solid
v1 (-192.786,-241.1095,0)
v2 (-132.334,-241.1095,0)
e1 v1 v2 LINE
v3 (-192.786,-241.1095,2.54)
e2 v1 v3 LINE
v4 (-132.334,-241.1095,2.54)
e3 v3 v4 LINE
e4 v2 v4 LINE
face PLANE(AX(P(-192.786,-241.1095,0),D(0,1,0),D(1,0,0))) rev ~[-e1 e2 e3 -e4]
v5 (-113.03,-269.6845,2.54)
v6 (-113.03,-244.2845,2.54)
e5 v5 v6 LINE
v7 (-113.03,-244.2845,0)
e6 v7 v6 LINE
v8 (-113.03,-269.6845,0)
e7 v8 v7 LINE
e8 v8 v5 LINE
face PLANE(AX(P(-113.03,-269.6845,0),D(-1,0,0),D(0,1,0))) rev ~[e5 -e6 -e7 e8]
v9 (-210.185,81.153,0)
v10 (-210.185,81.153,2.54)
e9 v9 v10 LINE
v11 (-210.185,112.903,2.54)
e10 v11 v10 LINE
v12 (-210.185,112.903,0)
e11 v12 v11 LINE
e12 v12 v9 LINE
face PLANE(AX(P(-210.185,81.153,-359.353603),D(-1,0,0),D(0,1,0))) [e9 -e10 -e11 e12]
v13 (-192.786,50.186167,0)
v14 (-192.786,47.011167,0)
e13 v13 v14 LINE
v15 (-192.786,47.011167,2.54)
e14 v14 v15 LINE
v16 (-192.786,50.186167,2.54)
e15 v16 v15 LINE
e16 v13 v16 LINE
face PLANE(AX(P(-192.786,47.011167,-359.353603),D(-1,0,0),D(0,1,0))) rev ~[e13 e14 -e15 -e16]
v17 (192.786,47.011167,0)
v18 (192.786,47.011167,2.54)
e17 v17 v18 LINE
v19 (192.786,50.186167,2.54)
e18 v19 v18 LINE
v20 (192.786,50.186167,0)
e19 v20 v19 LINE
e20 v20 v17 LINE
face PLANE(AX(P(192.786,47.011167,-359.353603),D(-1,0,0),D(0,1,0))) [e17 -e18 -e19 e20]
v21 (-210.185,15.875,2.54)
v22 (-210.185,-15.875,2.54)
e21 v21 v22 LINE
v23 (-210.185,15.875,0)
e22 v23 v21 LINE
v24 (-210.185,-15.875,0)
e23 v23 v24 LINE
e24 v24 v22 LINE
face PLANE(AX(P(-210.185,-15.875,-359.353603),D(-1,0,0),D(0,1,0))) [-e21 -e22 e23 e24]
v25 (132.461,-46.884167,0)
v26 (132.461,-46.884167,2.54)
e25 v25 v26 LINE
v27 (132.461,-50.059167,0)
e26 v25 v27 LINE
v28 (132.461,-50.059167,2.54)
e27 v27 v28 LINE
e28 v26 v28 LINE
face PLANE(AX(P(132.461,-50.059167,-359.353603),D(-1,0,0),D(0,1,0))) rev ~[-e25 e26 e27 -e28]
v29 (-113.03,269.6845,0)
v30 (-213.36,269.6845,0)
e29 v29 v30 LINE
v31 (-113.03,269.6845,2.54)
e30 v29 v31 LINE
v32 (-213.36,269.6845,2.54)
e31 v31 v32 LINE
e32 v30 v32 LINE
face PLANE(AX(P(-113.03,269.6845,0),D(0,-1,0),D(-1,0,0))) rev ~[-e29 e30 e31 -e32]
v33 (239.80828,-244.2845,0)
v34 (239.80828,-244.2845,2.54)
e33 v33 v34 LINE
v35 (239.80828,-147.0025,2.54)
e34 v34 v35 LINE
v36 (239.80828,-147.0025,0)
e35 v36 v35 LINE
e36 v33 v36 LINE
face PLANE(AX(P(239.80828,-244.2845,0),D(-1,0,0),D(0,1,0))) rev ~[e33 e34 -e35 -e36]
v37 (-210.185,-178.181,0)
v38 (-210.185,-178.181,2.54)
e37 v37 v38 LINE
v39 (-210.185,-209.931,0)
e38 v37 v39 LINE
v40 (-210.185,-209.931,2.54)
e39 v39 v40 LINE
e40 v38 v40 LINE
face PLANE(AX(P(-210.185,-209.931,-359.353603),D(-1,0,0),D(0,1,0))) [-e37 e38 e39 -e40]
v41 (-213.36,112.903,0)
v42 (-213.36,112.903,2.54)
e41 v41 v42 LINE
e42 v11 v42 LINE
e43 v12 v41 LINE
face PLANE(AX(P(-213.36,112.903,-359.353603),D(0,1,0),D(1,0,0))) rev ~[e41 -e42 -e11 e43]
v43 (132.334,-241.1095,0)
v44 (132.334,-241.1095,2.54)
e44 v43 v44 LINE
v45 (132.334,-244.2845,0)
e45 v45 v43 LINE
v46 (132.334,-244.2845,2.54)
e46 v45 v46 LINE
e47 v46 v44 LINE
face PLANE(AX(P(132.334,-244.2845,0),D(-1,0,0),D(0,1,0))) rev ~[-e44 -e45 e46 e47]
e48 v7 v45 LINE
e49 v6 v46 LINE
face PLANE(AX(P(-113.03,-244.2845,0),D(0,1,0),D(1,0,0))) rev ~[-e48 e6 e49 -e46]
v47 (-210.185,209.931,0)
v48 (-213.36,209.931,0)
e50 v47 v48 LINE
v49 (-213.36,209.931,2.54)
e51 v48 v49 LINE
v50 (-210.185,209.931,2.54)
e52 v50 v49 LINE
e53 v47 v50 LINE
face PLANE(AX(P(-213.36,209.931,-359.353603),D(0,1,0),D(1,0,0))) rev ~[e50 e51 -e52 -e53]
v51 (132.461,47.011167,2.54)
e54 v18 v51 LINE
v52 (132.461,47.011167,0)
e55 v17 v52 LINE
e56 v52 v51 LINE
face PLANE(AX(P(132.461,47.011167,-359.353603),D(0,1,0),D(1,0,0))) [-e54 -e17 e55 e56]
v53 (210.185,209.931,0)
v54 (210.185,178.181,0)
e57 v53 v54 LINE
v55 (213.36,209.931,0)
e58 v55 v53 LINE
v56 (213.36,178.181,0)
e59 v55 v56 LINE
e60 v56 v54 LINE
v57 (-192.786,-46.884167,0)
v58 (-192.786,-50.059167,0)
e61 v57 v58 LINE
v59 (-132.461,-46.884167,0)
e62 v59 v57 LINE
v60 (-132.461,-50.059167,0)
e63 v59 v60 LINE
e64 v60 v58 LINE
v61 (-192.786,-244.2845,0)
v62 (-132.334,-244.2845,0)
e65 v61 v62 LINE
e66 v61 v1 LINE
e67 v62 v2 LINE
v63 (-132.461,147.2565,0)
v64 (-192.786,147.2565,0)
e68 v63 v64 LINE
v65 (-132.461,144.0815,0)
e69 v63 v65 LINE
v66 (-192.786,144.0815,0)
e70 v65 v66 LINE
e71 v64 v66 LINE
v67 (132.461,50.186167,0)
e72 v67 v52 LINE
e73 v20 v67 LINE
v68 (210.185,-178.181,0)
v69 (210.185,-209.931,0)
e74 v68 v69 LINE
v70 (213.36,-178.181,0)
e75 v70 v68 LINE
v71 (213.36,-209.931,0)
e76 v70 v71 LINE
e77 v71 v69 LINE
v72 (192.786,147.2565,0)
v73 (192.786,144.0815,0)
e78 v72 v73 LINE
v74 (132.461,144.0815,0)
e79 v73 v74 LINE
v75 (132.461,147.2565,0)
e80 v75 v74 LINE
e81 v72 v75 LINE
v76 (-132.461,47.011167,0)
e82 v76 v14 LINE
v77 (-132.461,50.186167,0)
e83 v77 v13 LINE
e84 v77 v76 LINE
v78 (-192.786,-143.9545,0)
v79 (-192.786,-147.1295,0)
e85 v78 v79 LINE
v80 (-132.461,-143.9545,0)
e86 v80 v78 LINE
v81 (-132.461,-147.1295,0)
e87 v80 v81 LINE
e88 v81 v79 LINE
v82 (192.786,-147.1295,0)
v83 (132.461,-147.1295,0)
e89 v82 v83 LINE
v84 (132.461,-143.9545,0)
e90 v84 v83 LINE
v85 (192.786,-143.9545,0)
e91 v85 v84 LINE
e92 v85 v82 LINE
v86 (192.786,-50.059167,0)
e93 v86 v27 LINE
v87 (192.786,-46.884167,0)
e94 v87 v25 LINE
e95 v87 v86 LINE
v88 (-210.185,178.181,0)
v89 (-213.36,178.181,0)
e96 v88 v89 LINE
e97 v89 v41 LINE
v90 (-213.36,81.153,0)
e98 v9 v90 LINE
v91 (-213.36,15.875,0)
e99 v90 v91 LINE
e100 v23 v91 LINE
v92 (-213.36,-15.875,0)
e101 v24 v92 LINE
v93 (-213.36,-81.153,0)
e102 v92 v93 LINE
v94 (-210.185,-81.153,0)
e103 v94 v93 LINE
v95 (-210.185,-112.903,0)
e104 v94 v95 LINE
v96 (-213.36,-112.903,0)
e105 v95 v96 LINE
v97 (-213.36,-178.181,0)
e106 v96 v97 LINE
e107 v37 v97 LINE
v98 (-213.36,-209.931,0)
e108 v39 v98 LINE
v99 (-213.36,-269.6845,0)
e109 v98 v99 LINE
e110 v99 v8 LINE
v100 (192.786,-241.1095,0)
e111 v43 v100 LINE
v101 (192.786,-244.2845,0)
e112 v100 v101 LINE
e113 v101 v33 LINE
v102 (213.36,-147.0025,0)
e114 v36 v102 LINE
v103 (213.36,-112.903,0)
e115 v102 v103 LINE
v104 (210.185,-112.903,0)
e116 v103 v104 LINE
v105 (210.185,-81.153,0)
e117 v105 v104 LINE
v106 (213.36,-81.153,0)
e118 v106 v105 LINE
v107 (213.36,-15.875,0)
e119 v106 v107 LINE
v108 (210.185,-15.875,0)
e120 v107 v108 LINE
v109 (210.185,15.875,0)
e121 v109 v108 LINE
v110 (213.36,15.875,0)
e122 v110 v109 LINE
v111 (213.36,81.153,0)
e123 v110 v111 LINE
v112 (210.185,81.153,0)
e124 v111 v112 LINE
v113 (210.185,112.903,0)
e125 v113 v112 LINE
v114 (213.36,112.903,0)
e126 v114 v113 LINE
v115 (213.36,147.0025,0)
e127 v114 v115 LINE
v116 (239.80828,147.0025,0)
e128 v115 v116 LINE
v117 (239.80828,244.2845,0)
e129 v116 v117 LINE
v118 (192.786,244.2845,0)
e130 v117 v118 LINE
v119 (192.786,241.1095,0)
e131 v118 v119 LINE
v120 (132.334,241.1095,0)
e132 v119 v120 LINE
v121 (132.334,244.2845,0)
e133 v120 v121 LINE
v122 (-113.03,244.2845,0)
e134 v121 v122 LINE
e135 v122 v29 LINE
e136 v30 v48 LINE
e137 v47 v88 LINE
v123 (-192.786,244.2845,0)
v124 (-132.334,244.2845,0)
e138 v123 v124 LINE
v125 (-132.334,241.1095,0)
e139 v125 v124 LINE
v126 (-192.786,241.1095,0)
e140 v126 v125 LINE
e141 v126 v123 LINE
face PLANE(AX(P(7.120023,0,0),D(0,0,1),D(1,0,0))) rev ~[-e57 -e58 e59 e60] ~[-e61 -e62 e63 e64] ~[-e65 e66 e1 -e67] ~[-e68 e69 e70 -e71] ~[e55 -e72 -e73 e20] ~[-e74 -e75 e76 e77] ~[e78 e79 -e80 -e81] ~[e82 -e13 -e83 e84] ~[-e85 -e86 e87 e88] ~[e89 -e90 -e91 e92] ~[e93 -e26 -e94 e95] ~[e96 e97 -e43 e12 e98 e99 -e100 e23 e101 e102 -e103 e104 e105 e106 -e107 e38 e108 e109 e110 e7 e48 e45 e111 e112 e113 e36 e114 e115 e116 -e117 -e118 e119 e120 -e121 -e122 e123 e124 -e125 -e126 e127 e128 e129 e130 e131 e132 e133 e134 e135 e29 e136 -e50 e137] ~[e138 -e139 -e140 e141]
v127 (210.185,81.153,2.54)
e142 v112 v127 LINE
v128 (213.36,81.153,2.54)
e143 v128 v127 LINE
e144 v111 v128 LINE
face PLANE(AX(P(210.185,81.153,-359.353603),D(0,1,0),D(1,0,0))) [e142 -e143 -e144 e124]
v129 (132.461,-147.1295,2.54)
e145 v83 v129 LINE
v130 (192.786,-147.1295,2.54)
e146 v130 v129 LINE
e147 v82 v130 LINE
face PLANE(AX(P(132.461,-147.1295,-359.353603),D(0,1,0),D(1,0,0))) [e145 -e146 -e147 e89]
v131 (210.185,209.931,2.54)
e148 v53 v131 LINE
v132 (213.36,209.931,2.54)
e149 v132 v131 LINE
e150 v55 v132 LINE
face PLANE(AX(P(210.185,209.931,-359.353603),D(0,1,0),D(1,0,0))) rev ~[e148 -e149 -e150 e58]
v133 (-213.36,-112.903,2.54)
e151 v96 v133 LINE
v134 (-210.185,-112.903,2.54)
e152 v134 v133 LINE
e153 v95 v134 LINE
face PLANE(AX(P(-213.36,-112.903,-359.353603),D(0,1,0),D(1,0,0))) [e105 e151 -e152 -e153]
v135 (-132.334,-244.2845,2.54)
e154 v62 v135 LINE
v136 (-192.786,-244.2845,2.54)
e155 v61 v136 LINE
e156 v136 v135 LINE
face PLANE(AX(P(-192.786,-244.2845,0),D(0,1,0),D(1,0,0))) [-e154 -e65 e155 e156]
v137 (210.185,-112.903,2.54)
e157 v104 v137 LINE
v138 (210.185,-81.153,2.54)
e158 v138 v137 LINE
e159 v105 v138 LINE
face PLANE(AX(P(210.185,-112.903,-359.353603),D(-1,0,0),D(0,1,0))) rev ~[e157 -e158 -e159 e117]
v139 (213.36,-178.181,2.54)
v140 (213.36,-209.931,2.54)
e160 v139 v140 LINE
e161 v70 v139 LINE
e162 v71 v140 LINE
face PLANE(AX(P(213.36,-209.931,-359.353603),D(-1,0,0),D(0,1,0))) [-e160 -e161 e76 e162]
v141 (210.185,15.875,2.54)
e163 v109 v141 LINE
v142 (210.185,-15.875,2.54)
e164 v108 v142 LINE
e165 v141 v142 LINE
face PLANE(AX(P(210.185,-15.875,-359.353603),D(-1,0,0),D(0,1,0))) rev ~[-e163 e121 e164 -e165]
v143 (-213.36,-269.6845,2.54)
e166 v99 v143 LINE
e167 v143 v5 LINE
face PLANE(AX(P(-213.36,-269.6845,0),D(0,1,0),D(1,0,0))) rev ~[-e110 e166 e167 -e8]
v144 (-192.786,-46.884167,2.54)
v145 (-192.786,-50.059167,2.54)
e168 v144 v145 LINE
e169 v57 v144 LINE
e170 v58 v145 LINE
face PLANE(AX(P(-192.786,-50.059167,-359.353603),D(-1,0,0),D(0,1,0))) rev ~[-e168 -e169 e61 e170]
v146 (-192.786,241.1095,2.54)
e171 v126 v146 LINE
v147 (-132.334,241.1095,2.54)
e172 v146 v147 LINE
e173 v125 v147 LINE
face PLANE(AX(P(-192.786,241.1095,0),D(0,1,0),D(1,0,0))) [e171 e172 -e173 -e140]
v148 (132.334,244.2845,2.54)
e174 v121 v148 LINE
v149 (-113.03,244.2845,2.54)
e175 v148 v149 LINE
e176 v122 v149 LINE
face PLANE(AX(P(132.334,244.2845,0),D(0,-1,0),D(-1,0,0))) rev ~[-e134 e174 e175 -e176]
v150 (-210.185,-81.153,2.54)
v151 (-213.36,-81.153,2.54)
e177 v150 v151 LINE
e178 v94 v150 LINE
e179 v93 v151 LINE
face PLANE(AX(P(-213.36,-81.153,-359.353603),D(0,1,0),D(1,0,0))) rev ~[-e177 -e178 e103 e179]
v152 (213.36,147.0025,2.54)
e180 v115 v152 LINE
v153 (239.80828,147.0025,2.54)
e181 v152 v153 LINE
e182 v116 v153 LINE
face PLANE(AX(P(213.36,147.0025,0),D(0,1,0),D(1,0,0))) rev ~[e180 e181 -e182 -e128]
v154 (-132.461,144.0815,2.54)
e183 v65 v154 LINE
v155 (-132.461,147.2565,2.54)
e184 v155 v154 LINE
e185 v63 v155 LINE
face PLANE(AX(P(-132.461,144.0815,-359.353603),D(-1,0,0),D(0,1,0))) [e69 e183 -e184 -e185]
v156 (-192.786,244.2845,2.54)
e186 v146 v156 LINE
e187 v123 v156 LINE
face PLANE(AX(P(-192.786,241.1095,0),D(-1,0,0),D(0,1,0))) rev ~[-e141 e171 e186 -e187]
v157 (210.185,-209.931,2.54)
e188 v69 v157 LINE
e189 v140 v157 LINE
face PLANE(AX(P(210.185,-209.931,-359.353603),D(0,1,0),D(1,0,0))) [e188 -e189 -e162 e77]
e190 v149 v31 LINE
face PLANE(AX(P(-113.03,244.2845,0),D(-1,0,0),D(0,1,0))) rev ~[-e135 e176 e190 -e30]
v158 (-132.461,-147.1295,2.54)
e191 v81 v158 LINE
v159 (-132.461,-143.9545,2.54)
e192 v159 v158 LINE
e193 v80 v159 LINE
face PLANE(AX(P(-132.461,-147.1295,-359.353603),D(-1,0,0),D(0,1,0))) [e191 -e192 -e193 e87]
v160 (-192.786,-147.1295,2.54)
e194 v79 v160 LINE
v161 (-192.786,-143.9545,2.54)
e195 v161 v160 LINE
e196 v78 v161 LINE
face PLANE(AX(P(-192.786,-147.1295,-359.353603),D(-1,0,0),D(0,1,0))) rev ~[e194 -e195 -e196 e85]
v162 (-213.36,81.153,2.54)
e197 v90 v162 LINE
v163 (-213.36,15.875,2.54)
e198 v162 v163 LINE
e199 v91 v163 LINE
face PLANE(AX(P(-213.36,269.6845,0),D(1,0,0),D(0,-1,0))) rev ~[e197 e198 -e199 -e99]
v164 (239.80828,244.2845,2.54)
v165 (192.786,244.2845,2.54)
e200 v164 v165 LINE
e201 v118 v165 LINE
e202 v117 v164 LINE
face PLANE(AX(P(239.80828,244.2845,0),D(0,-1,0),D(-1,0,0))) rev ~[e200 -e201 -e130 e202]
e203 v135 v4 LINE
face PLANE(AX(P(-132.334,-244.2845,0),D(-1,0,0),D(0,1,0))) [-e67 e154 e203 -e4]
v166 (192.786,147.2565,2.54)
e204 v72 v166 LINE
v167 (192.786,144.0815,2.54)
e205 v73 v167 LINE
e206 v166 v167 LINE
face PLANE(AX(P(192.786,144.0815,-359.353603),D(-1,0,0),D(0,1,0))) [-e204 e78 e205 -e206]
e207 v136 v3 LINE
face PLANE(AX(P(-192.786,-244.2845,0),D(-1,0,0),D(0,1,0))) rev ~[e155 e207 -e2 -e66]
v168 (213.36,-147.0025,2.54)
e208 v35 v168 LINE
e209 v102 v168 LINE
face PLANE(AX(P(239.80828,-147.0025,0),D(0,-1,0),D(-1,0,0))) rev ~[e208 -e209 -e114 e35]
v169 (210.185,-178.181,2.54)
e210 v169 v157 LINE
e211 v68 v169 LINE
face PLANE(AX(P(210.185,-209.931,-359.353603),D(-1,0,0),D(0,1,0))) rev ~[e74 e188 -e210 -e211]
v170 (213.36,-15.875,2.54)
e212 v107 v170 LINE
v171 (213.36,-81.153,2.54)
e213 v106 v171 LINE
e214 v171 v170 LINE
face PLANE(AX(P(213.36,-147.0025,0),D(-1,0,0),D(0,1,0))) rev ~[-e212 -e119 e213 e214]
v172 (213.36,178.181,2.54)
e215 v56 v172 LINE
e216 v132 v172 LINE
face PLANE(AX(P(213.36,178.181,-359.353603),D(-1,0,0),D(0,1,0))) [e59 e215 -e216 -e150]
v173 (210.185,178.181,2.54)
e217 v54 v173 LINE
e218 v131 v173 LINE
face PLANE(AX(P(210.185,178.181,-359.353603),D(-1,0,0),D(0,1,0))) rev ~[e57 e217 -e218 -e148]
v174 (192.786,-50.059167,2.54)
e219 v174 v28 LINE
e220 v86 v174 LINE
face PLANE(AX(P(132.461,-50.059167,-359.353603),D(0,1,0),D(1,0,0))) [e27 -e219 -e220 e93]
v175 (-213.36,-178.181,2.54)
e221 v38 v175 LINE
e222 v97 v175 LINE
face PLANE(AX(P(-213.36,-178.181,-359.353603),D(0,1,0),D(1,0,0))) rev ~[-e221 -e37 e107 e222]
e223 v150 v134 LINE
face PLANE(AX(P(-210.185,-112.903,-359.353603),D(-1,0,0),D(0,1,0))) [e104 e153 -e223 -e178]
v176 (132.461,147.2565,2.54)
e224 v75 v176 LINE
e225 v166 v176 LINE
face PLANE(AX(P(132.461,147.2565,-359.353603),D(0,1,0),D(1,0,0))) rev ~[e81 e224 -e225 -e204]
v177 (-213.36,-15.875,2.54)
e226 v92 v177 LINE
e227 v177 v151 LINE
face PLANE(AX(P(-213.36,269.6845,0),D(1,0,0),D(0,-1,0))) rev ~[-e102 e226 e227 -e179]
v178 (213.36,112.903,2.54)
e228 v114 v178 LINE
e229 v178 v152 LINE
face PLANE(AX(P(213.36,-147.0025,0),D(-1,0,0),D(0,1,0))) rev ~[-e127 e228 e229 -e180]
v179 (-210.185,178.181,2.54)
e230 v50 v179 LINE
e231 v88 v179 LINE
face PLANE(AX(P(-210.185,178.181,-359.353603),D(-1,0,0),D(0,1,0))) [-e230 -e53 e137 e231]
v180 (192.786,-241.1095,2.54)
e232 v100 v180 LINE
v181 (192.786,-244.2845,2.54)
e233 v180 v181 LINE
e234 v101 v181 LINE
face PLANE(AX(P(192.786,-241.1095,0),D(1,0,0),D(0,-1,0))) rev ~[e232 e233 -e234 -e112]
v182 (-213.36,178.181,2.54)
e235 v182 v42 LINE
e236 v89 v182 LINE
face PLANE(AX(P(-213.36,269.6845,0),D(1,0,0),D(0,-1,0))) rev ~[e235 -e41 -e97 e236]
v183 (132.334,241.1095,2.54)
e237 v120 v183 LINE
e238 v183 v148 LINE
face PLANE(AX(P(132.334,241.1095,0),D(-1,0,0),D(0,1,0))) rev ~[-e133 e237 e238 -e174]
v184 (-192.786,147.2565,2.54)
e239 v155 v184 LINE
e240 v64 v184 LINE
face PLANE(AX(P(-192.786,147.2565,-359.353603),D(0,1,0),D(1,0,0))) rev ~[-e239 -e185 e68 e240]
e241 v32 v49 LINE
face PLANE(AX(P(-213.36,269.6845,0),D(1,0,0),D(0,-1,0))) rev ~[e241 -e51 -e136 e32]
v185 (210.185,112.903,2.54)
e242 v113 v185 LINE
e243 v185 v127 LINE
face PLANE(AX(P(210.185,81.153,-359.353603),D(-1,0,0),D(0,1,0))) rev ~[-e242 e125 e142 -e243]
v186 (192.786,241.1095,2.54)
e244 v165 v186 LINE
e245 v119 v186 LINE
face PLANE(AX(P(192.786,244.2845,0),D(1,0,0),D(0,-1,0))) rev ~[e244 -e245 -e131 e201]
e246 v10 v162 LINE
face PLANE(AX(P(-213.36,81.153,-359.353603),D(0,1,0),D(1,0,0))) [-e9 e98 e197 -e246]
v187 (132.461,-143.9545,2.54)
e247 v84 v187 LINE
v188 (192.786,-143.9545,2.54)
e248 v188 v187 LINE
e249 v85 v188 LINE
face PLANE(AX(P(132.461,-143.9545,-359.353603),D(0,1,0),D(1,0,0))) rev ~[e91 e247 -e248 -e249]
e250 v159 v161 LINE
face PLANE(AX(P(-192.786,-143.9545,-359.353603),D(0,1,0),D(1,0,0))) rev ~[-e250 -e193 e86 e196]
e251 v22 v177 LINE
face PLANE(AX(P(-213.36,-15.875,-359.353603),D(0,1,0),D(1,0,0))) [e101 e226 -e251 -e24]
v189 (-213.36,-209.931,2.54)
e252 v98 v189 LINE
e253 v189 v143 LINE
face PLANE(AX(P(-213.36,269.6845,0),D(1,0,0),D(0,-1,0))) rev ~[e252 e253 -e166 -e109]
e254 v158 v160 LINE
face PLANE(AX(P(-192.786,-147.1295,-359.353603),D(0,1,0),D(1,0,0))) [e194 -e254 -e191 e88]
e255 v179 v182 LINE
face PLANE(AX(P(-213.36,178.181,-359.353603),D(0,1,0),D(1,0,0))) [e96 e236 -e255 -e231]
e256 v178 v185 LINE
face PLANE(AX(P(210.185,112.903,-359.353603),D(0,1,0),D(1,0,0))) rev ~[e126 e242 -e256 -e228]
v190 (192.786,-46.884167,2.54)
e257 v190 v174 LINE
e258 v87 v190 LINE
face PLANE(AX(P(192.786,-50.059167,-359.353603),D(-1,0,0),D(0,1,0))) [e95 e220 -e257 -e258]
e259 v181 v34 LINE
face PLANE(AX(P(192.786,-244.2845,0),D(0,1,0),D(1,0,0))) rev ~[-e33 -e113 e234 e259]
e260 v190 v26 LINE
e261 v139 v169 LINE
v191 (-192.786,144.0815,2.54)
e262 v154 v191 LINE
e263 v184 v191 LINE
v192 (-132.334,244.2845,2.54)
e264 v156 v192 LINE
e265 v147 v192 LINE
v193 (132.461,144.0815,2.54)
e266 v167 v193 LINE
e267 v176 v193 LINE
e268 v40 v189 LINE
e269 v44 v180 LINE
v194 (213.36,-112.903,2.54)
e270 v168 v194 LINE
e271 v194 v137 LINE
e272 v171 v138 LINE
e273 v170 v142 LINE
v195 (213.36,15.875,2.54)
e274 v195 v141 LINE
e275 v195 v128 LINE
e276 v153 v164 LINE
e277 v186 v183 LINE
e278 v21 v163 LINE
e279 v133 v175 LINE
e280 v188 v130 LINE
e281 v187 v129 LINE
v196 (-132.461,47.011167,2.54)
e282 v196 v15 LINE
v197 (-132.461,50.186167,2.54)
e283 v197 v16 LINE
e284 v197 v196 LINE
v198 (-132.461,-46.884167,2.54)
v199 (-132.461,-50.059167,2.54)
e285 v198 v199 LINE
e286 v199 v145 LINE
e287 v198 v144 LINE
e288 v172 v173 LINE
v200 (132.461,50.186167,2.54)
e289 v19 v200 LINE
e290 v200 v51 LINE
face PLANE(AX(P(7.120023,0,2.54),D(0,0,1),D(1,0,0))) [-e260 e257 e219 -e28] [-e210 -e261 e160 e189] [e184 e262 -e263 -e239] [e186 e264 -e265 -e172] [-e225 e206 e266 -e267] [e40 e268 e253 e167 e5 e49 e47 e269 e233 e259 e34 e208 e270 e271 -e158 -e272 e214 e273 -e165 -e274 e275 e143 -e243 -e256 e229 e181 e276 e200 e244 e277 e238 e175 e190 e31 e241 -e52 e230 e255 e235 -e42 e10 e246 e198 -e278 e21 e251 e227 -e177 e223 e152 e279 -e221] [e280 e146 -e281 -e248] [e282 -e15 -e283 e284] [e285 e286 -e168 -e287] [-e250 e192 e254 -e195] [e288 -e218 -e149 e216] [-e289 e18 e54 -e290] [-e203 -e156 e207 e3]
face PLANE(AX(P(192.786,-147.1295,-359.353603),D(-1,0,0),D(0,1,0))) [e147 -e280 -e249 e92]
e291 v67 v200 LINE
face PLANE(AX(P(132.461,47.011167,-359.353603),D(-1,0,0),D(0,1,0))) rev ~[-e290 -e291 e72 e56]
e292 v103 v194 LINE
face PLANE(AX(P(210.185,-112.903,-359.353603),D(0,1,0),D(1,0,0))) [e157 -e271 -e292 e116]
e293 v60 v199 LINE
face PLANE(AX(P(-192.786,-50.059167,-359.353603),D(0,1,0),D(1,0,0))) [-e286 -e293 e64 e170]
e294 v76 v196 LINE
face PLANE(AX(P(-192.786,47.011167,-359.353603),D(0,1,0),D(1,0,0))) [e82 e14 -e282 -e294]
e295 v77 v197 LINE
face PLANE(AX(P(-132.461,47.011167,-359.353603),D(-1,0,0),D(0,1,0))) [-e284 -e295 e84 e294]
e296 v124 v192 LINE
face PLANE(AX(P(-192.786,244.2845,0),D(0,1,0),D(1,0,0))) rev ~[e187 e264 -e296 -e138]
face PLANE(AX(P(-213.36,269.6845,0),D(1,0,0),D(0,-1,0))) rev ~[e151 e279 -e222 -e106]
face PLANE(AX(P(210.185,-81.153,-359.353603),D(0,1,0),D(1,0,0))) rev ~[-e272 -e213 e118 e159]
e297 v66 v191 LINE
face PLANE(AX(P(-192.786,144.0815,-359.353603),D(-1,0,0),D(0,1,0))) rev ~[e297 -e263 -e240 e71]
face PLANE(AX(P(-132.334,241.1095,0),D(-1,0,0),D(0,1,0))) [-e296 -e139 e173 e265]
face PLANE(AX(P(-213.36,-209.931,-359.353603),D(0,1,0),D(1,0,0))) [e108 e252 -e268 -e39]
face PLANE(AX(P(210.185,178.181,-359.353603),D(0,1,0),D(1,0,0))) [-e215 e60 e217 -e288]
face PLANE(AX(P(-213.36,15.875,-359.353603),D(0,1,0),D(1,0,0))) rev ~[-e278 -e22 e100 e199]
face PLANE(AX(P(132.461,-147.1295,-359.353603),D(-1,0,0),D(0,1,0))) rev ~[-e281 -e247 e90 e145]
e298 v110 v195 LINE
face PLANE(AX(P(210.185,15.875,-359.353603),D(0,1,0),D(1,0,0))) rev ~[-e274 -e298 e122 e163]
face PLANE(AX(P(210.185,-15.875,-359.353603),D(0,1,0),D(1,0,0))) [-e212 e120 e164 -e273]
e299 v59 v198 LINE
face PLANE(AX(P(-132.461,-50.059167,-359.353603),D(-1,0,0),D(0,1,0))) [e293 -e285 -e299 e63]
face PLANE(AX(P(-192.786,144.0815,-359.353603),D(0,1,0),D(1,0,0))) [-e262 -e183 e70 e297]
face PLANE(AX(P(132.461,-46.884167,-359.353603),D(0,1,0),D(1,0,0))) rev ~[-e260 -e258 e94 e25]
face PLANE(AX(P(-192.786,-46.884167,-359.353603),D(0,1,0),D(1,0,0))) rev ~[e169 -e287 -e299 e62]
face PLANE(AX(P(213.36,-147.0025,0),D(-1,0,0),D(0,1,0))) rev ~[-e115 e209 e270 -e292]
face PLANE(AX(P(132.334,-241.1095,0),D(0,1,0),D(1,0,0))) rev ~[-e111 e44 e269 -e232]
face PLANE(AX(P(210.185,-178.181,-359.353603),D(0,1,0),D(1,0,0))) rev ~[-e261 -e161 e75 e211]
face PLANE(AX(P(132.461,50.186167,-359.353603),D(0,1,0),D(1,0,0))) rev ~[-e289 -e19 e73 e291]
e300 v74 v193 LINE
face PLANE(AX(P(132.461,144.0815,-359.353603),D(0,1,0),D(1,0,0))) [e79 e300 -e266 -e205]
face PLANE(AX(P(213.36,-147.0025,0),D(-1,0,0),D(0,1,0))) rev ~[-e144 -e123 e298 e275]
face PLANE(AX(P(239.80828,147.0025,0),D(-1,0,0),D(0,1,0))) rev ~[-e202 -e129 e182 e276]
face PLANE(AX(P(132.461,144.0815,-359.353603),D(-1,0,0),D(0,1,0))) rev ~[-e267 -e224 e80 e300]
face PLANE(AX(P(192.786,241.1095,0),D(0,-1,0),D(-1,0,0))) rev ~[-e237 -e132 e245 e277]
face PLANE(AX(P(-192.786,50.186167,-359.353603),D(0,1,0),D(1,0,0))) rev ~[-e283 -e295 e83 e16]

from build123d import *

# Parameters (mm, degrees)
SKETCH2_W               = 60.452
SKETCH2_H               = 3.175
BOSS_EXTRUDE3_DEPTH     = 2.54
CUT_EXTRUDE2_DEPTH      = 361.893602522
CUT_EXTRUDE2_DEPTH_BACK = 361.893602522
SKETCH4_W               = 60.325
SKETCH4_H               = 3.175
SKETCH4_W_2             = 3.175
SKETCH4_H_2             = 31.75


with BuildPart() as part:
    # Sketch2 → Boss-Extrude3 (new body)
    with BuildSketch(Plane.XY):
        Polygon((-213.36, -244.2845), (-213.36, -263.2075), (-213.36, -269.6845), (-113.03, -269.6845), (-113.03, -244.2845), (132.334, -244.2845), (132.334, -241.1095), (192.786, -241.1095), (192.786, -244.2845), (213.36, -244.2845), (239.808280092, -244.2845), (239.808280092, -147.0025), (213.36, -147.0025), (213.36, 147.0025), (239.808280092, 147.0025), (239.808280092, 244.2845), (213.36, 244.2845), (192.786, 244.2845), (192.786, 241.1095), (132.334, 241.1095), (132.334, 244.2845), (-113.03, 244.2845), (-113.03, 269.6845), (-213.36, 269.6845), (-213.36, 244.2845), align=None)
        with Locations((-162.56, -242.697)):
            Rectangle(SKETCH2_W, SKETCH2_H, mode=Mode.SUBTRACT)
        with Locations((-162.56, 242.697)):
            Rectangle(SKETCH2_W, SKETCH2_H, mode=Mode.SUBTRACT)
    extrude(amount=BOSS_EXTRUDE3_DEPTH)

    # Sketch4 → Cut-Extrude2 (cut, two sides: drawn at the far end of the back side and taken through both)
    with BuildSketch(Plane.XY.offset(2.54).offset(-CUT_EXTRUDE2_DEPTH_BACK)):
        with Locations((-162.6235, -145.542)):
            Rectangle(SKETCH4_W, SKETCH4_H)
        with Locations((-162.6235, -48.471666667)):
            Rectangle(SKETCH4_W, SKETCH4_H)
        with Locations((-162.6235, 48.598666667)):
            Rectangle(SKETCH4_W, SKETCH4_H)
        with Locations((-162.6235, 145.669)):
            Rectangle(SKETCH4_W, SKETCH4_H)
        with Locations((162.6235, -145.542)):
            Rectangle(SKETCH4_W, SKETCH4_H)
        with Locations((162.6235, -48.471666667)):
            Rectangle(SKETCH4_W, SKETCH4_H)
        with Locations((162.6235, 48.598666667)):
            Rectangle(SKETCH4_W, SKETCH4_H)
        with Locations((162.6235, 145.669)):
            Rectangle(SKETCH4_W, SKETCH4_H)
        with Locations((211.7725, -194.056)):
            Rectangle(SKETCH4_W_2, SKETCH4_H_2)
        with Locations((211.7725, -97.028)):
            Rectangle(SKETCH4_W_2, SKETCH4_H_2)
        with Locations((211.7725, 0)):
            Rectangle(SKETCH4_W_2, SKETCH4_H_2)
        with Locations((211.7725, 97.028)):
            Rectangle(SKETCH4_W_2, SKETCH4_H_2)
        with Locations((211.7725, 194.056)):
            Rectangle(SKETCH4_W_2, SKETCH4_H_2)
        with Locations((-211.7725, -97.028)):
            Rectangle(SKETCH4_W_2, SKETCH4_H_2)
        with Locations((-211.7725, 0)):
            Rectangle(SKETCH4_W_2, SKETCH4_H_2)
        with Locations((-211.7725, -194.056)):
            Rectangle(SKETCH4_W_2, SKETCH4_H_2)
        with Locations((-211.7725, 97.028)):
            Rectangle(SKETCH4_W_2, SKETCH4_H_2)
        with Locations((-211.7725, 194.056)):
            Rectangle(SKETCH4_W_2, SKETCH4_H_2)
    extrude(amount=CUT_EXTRUDE2_DEPTH + CUT_EXTRUDE2_DEPTH_BACK, mode=Mode.SUBTRACT)


solid = part.part
